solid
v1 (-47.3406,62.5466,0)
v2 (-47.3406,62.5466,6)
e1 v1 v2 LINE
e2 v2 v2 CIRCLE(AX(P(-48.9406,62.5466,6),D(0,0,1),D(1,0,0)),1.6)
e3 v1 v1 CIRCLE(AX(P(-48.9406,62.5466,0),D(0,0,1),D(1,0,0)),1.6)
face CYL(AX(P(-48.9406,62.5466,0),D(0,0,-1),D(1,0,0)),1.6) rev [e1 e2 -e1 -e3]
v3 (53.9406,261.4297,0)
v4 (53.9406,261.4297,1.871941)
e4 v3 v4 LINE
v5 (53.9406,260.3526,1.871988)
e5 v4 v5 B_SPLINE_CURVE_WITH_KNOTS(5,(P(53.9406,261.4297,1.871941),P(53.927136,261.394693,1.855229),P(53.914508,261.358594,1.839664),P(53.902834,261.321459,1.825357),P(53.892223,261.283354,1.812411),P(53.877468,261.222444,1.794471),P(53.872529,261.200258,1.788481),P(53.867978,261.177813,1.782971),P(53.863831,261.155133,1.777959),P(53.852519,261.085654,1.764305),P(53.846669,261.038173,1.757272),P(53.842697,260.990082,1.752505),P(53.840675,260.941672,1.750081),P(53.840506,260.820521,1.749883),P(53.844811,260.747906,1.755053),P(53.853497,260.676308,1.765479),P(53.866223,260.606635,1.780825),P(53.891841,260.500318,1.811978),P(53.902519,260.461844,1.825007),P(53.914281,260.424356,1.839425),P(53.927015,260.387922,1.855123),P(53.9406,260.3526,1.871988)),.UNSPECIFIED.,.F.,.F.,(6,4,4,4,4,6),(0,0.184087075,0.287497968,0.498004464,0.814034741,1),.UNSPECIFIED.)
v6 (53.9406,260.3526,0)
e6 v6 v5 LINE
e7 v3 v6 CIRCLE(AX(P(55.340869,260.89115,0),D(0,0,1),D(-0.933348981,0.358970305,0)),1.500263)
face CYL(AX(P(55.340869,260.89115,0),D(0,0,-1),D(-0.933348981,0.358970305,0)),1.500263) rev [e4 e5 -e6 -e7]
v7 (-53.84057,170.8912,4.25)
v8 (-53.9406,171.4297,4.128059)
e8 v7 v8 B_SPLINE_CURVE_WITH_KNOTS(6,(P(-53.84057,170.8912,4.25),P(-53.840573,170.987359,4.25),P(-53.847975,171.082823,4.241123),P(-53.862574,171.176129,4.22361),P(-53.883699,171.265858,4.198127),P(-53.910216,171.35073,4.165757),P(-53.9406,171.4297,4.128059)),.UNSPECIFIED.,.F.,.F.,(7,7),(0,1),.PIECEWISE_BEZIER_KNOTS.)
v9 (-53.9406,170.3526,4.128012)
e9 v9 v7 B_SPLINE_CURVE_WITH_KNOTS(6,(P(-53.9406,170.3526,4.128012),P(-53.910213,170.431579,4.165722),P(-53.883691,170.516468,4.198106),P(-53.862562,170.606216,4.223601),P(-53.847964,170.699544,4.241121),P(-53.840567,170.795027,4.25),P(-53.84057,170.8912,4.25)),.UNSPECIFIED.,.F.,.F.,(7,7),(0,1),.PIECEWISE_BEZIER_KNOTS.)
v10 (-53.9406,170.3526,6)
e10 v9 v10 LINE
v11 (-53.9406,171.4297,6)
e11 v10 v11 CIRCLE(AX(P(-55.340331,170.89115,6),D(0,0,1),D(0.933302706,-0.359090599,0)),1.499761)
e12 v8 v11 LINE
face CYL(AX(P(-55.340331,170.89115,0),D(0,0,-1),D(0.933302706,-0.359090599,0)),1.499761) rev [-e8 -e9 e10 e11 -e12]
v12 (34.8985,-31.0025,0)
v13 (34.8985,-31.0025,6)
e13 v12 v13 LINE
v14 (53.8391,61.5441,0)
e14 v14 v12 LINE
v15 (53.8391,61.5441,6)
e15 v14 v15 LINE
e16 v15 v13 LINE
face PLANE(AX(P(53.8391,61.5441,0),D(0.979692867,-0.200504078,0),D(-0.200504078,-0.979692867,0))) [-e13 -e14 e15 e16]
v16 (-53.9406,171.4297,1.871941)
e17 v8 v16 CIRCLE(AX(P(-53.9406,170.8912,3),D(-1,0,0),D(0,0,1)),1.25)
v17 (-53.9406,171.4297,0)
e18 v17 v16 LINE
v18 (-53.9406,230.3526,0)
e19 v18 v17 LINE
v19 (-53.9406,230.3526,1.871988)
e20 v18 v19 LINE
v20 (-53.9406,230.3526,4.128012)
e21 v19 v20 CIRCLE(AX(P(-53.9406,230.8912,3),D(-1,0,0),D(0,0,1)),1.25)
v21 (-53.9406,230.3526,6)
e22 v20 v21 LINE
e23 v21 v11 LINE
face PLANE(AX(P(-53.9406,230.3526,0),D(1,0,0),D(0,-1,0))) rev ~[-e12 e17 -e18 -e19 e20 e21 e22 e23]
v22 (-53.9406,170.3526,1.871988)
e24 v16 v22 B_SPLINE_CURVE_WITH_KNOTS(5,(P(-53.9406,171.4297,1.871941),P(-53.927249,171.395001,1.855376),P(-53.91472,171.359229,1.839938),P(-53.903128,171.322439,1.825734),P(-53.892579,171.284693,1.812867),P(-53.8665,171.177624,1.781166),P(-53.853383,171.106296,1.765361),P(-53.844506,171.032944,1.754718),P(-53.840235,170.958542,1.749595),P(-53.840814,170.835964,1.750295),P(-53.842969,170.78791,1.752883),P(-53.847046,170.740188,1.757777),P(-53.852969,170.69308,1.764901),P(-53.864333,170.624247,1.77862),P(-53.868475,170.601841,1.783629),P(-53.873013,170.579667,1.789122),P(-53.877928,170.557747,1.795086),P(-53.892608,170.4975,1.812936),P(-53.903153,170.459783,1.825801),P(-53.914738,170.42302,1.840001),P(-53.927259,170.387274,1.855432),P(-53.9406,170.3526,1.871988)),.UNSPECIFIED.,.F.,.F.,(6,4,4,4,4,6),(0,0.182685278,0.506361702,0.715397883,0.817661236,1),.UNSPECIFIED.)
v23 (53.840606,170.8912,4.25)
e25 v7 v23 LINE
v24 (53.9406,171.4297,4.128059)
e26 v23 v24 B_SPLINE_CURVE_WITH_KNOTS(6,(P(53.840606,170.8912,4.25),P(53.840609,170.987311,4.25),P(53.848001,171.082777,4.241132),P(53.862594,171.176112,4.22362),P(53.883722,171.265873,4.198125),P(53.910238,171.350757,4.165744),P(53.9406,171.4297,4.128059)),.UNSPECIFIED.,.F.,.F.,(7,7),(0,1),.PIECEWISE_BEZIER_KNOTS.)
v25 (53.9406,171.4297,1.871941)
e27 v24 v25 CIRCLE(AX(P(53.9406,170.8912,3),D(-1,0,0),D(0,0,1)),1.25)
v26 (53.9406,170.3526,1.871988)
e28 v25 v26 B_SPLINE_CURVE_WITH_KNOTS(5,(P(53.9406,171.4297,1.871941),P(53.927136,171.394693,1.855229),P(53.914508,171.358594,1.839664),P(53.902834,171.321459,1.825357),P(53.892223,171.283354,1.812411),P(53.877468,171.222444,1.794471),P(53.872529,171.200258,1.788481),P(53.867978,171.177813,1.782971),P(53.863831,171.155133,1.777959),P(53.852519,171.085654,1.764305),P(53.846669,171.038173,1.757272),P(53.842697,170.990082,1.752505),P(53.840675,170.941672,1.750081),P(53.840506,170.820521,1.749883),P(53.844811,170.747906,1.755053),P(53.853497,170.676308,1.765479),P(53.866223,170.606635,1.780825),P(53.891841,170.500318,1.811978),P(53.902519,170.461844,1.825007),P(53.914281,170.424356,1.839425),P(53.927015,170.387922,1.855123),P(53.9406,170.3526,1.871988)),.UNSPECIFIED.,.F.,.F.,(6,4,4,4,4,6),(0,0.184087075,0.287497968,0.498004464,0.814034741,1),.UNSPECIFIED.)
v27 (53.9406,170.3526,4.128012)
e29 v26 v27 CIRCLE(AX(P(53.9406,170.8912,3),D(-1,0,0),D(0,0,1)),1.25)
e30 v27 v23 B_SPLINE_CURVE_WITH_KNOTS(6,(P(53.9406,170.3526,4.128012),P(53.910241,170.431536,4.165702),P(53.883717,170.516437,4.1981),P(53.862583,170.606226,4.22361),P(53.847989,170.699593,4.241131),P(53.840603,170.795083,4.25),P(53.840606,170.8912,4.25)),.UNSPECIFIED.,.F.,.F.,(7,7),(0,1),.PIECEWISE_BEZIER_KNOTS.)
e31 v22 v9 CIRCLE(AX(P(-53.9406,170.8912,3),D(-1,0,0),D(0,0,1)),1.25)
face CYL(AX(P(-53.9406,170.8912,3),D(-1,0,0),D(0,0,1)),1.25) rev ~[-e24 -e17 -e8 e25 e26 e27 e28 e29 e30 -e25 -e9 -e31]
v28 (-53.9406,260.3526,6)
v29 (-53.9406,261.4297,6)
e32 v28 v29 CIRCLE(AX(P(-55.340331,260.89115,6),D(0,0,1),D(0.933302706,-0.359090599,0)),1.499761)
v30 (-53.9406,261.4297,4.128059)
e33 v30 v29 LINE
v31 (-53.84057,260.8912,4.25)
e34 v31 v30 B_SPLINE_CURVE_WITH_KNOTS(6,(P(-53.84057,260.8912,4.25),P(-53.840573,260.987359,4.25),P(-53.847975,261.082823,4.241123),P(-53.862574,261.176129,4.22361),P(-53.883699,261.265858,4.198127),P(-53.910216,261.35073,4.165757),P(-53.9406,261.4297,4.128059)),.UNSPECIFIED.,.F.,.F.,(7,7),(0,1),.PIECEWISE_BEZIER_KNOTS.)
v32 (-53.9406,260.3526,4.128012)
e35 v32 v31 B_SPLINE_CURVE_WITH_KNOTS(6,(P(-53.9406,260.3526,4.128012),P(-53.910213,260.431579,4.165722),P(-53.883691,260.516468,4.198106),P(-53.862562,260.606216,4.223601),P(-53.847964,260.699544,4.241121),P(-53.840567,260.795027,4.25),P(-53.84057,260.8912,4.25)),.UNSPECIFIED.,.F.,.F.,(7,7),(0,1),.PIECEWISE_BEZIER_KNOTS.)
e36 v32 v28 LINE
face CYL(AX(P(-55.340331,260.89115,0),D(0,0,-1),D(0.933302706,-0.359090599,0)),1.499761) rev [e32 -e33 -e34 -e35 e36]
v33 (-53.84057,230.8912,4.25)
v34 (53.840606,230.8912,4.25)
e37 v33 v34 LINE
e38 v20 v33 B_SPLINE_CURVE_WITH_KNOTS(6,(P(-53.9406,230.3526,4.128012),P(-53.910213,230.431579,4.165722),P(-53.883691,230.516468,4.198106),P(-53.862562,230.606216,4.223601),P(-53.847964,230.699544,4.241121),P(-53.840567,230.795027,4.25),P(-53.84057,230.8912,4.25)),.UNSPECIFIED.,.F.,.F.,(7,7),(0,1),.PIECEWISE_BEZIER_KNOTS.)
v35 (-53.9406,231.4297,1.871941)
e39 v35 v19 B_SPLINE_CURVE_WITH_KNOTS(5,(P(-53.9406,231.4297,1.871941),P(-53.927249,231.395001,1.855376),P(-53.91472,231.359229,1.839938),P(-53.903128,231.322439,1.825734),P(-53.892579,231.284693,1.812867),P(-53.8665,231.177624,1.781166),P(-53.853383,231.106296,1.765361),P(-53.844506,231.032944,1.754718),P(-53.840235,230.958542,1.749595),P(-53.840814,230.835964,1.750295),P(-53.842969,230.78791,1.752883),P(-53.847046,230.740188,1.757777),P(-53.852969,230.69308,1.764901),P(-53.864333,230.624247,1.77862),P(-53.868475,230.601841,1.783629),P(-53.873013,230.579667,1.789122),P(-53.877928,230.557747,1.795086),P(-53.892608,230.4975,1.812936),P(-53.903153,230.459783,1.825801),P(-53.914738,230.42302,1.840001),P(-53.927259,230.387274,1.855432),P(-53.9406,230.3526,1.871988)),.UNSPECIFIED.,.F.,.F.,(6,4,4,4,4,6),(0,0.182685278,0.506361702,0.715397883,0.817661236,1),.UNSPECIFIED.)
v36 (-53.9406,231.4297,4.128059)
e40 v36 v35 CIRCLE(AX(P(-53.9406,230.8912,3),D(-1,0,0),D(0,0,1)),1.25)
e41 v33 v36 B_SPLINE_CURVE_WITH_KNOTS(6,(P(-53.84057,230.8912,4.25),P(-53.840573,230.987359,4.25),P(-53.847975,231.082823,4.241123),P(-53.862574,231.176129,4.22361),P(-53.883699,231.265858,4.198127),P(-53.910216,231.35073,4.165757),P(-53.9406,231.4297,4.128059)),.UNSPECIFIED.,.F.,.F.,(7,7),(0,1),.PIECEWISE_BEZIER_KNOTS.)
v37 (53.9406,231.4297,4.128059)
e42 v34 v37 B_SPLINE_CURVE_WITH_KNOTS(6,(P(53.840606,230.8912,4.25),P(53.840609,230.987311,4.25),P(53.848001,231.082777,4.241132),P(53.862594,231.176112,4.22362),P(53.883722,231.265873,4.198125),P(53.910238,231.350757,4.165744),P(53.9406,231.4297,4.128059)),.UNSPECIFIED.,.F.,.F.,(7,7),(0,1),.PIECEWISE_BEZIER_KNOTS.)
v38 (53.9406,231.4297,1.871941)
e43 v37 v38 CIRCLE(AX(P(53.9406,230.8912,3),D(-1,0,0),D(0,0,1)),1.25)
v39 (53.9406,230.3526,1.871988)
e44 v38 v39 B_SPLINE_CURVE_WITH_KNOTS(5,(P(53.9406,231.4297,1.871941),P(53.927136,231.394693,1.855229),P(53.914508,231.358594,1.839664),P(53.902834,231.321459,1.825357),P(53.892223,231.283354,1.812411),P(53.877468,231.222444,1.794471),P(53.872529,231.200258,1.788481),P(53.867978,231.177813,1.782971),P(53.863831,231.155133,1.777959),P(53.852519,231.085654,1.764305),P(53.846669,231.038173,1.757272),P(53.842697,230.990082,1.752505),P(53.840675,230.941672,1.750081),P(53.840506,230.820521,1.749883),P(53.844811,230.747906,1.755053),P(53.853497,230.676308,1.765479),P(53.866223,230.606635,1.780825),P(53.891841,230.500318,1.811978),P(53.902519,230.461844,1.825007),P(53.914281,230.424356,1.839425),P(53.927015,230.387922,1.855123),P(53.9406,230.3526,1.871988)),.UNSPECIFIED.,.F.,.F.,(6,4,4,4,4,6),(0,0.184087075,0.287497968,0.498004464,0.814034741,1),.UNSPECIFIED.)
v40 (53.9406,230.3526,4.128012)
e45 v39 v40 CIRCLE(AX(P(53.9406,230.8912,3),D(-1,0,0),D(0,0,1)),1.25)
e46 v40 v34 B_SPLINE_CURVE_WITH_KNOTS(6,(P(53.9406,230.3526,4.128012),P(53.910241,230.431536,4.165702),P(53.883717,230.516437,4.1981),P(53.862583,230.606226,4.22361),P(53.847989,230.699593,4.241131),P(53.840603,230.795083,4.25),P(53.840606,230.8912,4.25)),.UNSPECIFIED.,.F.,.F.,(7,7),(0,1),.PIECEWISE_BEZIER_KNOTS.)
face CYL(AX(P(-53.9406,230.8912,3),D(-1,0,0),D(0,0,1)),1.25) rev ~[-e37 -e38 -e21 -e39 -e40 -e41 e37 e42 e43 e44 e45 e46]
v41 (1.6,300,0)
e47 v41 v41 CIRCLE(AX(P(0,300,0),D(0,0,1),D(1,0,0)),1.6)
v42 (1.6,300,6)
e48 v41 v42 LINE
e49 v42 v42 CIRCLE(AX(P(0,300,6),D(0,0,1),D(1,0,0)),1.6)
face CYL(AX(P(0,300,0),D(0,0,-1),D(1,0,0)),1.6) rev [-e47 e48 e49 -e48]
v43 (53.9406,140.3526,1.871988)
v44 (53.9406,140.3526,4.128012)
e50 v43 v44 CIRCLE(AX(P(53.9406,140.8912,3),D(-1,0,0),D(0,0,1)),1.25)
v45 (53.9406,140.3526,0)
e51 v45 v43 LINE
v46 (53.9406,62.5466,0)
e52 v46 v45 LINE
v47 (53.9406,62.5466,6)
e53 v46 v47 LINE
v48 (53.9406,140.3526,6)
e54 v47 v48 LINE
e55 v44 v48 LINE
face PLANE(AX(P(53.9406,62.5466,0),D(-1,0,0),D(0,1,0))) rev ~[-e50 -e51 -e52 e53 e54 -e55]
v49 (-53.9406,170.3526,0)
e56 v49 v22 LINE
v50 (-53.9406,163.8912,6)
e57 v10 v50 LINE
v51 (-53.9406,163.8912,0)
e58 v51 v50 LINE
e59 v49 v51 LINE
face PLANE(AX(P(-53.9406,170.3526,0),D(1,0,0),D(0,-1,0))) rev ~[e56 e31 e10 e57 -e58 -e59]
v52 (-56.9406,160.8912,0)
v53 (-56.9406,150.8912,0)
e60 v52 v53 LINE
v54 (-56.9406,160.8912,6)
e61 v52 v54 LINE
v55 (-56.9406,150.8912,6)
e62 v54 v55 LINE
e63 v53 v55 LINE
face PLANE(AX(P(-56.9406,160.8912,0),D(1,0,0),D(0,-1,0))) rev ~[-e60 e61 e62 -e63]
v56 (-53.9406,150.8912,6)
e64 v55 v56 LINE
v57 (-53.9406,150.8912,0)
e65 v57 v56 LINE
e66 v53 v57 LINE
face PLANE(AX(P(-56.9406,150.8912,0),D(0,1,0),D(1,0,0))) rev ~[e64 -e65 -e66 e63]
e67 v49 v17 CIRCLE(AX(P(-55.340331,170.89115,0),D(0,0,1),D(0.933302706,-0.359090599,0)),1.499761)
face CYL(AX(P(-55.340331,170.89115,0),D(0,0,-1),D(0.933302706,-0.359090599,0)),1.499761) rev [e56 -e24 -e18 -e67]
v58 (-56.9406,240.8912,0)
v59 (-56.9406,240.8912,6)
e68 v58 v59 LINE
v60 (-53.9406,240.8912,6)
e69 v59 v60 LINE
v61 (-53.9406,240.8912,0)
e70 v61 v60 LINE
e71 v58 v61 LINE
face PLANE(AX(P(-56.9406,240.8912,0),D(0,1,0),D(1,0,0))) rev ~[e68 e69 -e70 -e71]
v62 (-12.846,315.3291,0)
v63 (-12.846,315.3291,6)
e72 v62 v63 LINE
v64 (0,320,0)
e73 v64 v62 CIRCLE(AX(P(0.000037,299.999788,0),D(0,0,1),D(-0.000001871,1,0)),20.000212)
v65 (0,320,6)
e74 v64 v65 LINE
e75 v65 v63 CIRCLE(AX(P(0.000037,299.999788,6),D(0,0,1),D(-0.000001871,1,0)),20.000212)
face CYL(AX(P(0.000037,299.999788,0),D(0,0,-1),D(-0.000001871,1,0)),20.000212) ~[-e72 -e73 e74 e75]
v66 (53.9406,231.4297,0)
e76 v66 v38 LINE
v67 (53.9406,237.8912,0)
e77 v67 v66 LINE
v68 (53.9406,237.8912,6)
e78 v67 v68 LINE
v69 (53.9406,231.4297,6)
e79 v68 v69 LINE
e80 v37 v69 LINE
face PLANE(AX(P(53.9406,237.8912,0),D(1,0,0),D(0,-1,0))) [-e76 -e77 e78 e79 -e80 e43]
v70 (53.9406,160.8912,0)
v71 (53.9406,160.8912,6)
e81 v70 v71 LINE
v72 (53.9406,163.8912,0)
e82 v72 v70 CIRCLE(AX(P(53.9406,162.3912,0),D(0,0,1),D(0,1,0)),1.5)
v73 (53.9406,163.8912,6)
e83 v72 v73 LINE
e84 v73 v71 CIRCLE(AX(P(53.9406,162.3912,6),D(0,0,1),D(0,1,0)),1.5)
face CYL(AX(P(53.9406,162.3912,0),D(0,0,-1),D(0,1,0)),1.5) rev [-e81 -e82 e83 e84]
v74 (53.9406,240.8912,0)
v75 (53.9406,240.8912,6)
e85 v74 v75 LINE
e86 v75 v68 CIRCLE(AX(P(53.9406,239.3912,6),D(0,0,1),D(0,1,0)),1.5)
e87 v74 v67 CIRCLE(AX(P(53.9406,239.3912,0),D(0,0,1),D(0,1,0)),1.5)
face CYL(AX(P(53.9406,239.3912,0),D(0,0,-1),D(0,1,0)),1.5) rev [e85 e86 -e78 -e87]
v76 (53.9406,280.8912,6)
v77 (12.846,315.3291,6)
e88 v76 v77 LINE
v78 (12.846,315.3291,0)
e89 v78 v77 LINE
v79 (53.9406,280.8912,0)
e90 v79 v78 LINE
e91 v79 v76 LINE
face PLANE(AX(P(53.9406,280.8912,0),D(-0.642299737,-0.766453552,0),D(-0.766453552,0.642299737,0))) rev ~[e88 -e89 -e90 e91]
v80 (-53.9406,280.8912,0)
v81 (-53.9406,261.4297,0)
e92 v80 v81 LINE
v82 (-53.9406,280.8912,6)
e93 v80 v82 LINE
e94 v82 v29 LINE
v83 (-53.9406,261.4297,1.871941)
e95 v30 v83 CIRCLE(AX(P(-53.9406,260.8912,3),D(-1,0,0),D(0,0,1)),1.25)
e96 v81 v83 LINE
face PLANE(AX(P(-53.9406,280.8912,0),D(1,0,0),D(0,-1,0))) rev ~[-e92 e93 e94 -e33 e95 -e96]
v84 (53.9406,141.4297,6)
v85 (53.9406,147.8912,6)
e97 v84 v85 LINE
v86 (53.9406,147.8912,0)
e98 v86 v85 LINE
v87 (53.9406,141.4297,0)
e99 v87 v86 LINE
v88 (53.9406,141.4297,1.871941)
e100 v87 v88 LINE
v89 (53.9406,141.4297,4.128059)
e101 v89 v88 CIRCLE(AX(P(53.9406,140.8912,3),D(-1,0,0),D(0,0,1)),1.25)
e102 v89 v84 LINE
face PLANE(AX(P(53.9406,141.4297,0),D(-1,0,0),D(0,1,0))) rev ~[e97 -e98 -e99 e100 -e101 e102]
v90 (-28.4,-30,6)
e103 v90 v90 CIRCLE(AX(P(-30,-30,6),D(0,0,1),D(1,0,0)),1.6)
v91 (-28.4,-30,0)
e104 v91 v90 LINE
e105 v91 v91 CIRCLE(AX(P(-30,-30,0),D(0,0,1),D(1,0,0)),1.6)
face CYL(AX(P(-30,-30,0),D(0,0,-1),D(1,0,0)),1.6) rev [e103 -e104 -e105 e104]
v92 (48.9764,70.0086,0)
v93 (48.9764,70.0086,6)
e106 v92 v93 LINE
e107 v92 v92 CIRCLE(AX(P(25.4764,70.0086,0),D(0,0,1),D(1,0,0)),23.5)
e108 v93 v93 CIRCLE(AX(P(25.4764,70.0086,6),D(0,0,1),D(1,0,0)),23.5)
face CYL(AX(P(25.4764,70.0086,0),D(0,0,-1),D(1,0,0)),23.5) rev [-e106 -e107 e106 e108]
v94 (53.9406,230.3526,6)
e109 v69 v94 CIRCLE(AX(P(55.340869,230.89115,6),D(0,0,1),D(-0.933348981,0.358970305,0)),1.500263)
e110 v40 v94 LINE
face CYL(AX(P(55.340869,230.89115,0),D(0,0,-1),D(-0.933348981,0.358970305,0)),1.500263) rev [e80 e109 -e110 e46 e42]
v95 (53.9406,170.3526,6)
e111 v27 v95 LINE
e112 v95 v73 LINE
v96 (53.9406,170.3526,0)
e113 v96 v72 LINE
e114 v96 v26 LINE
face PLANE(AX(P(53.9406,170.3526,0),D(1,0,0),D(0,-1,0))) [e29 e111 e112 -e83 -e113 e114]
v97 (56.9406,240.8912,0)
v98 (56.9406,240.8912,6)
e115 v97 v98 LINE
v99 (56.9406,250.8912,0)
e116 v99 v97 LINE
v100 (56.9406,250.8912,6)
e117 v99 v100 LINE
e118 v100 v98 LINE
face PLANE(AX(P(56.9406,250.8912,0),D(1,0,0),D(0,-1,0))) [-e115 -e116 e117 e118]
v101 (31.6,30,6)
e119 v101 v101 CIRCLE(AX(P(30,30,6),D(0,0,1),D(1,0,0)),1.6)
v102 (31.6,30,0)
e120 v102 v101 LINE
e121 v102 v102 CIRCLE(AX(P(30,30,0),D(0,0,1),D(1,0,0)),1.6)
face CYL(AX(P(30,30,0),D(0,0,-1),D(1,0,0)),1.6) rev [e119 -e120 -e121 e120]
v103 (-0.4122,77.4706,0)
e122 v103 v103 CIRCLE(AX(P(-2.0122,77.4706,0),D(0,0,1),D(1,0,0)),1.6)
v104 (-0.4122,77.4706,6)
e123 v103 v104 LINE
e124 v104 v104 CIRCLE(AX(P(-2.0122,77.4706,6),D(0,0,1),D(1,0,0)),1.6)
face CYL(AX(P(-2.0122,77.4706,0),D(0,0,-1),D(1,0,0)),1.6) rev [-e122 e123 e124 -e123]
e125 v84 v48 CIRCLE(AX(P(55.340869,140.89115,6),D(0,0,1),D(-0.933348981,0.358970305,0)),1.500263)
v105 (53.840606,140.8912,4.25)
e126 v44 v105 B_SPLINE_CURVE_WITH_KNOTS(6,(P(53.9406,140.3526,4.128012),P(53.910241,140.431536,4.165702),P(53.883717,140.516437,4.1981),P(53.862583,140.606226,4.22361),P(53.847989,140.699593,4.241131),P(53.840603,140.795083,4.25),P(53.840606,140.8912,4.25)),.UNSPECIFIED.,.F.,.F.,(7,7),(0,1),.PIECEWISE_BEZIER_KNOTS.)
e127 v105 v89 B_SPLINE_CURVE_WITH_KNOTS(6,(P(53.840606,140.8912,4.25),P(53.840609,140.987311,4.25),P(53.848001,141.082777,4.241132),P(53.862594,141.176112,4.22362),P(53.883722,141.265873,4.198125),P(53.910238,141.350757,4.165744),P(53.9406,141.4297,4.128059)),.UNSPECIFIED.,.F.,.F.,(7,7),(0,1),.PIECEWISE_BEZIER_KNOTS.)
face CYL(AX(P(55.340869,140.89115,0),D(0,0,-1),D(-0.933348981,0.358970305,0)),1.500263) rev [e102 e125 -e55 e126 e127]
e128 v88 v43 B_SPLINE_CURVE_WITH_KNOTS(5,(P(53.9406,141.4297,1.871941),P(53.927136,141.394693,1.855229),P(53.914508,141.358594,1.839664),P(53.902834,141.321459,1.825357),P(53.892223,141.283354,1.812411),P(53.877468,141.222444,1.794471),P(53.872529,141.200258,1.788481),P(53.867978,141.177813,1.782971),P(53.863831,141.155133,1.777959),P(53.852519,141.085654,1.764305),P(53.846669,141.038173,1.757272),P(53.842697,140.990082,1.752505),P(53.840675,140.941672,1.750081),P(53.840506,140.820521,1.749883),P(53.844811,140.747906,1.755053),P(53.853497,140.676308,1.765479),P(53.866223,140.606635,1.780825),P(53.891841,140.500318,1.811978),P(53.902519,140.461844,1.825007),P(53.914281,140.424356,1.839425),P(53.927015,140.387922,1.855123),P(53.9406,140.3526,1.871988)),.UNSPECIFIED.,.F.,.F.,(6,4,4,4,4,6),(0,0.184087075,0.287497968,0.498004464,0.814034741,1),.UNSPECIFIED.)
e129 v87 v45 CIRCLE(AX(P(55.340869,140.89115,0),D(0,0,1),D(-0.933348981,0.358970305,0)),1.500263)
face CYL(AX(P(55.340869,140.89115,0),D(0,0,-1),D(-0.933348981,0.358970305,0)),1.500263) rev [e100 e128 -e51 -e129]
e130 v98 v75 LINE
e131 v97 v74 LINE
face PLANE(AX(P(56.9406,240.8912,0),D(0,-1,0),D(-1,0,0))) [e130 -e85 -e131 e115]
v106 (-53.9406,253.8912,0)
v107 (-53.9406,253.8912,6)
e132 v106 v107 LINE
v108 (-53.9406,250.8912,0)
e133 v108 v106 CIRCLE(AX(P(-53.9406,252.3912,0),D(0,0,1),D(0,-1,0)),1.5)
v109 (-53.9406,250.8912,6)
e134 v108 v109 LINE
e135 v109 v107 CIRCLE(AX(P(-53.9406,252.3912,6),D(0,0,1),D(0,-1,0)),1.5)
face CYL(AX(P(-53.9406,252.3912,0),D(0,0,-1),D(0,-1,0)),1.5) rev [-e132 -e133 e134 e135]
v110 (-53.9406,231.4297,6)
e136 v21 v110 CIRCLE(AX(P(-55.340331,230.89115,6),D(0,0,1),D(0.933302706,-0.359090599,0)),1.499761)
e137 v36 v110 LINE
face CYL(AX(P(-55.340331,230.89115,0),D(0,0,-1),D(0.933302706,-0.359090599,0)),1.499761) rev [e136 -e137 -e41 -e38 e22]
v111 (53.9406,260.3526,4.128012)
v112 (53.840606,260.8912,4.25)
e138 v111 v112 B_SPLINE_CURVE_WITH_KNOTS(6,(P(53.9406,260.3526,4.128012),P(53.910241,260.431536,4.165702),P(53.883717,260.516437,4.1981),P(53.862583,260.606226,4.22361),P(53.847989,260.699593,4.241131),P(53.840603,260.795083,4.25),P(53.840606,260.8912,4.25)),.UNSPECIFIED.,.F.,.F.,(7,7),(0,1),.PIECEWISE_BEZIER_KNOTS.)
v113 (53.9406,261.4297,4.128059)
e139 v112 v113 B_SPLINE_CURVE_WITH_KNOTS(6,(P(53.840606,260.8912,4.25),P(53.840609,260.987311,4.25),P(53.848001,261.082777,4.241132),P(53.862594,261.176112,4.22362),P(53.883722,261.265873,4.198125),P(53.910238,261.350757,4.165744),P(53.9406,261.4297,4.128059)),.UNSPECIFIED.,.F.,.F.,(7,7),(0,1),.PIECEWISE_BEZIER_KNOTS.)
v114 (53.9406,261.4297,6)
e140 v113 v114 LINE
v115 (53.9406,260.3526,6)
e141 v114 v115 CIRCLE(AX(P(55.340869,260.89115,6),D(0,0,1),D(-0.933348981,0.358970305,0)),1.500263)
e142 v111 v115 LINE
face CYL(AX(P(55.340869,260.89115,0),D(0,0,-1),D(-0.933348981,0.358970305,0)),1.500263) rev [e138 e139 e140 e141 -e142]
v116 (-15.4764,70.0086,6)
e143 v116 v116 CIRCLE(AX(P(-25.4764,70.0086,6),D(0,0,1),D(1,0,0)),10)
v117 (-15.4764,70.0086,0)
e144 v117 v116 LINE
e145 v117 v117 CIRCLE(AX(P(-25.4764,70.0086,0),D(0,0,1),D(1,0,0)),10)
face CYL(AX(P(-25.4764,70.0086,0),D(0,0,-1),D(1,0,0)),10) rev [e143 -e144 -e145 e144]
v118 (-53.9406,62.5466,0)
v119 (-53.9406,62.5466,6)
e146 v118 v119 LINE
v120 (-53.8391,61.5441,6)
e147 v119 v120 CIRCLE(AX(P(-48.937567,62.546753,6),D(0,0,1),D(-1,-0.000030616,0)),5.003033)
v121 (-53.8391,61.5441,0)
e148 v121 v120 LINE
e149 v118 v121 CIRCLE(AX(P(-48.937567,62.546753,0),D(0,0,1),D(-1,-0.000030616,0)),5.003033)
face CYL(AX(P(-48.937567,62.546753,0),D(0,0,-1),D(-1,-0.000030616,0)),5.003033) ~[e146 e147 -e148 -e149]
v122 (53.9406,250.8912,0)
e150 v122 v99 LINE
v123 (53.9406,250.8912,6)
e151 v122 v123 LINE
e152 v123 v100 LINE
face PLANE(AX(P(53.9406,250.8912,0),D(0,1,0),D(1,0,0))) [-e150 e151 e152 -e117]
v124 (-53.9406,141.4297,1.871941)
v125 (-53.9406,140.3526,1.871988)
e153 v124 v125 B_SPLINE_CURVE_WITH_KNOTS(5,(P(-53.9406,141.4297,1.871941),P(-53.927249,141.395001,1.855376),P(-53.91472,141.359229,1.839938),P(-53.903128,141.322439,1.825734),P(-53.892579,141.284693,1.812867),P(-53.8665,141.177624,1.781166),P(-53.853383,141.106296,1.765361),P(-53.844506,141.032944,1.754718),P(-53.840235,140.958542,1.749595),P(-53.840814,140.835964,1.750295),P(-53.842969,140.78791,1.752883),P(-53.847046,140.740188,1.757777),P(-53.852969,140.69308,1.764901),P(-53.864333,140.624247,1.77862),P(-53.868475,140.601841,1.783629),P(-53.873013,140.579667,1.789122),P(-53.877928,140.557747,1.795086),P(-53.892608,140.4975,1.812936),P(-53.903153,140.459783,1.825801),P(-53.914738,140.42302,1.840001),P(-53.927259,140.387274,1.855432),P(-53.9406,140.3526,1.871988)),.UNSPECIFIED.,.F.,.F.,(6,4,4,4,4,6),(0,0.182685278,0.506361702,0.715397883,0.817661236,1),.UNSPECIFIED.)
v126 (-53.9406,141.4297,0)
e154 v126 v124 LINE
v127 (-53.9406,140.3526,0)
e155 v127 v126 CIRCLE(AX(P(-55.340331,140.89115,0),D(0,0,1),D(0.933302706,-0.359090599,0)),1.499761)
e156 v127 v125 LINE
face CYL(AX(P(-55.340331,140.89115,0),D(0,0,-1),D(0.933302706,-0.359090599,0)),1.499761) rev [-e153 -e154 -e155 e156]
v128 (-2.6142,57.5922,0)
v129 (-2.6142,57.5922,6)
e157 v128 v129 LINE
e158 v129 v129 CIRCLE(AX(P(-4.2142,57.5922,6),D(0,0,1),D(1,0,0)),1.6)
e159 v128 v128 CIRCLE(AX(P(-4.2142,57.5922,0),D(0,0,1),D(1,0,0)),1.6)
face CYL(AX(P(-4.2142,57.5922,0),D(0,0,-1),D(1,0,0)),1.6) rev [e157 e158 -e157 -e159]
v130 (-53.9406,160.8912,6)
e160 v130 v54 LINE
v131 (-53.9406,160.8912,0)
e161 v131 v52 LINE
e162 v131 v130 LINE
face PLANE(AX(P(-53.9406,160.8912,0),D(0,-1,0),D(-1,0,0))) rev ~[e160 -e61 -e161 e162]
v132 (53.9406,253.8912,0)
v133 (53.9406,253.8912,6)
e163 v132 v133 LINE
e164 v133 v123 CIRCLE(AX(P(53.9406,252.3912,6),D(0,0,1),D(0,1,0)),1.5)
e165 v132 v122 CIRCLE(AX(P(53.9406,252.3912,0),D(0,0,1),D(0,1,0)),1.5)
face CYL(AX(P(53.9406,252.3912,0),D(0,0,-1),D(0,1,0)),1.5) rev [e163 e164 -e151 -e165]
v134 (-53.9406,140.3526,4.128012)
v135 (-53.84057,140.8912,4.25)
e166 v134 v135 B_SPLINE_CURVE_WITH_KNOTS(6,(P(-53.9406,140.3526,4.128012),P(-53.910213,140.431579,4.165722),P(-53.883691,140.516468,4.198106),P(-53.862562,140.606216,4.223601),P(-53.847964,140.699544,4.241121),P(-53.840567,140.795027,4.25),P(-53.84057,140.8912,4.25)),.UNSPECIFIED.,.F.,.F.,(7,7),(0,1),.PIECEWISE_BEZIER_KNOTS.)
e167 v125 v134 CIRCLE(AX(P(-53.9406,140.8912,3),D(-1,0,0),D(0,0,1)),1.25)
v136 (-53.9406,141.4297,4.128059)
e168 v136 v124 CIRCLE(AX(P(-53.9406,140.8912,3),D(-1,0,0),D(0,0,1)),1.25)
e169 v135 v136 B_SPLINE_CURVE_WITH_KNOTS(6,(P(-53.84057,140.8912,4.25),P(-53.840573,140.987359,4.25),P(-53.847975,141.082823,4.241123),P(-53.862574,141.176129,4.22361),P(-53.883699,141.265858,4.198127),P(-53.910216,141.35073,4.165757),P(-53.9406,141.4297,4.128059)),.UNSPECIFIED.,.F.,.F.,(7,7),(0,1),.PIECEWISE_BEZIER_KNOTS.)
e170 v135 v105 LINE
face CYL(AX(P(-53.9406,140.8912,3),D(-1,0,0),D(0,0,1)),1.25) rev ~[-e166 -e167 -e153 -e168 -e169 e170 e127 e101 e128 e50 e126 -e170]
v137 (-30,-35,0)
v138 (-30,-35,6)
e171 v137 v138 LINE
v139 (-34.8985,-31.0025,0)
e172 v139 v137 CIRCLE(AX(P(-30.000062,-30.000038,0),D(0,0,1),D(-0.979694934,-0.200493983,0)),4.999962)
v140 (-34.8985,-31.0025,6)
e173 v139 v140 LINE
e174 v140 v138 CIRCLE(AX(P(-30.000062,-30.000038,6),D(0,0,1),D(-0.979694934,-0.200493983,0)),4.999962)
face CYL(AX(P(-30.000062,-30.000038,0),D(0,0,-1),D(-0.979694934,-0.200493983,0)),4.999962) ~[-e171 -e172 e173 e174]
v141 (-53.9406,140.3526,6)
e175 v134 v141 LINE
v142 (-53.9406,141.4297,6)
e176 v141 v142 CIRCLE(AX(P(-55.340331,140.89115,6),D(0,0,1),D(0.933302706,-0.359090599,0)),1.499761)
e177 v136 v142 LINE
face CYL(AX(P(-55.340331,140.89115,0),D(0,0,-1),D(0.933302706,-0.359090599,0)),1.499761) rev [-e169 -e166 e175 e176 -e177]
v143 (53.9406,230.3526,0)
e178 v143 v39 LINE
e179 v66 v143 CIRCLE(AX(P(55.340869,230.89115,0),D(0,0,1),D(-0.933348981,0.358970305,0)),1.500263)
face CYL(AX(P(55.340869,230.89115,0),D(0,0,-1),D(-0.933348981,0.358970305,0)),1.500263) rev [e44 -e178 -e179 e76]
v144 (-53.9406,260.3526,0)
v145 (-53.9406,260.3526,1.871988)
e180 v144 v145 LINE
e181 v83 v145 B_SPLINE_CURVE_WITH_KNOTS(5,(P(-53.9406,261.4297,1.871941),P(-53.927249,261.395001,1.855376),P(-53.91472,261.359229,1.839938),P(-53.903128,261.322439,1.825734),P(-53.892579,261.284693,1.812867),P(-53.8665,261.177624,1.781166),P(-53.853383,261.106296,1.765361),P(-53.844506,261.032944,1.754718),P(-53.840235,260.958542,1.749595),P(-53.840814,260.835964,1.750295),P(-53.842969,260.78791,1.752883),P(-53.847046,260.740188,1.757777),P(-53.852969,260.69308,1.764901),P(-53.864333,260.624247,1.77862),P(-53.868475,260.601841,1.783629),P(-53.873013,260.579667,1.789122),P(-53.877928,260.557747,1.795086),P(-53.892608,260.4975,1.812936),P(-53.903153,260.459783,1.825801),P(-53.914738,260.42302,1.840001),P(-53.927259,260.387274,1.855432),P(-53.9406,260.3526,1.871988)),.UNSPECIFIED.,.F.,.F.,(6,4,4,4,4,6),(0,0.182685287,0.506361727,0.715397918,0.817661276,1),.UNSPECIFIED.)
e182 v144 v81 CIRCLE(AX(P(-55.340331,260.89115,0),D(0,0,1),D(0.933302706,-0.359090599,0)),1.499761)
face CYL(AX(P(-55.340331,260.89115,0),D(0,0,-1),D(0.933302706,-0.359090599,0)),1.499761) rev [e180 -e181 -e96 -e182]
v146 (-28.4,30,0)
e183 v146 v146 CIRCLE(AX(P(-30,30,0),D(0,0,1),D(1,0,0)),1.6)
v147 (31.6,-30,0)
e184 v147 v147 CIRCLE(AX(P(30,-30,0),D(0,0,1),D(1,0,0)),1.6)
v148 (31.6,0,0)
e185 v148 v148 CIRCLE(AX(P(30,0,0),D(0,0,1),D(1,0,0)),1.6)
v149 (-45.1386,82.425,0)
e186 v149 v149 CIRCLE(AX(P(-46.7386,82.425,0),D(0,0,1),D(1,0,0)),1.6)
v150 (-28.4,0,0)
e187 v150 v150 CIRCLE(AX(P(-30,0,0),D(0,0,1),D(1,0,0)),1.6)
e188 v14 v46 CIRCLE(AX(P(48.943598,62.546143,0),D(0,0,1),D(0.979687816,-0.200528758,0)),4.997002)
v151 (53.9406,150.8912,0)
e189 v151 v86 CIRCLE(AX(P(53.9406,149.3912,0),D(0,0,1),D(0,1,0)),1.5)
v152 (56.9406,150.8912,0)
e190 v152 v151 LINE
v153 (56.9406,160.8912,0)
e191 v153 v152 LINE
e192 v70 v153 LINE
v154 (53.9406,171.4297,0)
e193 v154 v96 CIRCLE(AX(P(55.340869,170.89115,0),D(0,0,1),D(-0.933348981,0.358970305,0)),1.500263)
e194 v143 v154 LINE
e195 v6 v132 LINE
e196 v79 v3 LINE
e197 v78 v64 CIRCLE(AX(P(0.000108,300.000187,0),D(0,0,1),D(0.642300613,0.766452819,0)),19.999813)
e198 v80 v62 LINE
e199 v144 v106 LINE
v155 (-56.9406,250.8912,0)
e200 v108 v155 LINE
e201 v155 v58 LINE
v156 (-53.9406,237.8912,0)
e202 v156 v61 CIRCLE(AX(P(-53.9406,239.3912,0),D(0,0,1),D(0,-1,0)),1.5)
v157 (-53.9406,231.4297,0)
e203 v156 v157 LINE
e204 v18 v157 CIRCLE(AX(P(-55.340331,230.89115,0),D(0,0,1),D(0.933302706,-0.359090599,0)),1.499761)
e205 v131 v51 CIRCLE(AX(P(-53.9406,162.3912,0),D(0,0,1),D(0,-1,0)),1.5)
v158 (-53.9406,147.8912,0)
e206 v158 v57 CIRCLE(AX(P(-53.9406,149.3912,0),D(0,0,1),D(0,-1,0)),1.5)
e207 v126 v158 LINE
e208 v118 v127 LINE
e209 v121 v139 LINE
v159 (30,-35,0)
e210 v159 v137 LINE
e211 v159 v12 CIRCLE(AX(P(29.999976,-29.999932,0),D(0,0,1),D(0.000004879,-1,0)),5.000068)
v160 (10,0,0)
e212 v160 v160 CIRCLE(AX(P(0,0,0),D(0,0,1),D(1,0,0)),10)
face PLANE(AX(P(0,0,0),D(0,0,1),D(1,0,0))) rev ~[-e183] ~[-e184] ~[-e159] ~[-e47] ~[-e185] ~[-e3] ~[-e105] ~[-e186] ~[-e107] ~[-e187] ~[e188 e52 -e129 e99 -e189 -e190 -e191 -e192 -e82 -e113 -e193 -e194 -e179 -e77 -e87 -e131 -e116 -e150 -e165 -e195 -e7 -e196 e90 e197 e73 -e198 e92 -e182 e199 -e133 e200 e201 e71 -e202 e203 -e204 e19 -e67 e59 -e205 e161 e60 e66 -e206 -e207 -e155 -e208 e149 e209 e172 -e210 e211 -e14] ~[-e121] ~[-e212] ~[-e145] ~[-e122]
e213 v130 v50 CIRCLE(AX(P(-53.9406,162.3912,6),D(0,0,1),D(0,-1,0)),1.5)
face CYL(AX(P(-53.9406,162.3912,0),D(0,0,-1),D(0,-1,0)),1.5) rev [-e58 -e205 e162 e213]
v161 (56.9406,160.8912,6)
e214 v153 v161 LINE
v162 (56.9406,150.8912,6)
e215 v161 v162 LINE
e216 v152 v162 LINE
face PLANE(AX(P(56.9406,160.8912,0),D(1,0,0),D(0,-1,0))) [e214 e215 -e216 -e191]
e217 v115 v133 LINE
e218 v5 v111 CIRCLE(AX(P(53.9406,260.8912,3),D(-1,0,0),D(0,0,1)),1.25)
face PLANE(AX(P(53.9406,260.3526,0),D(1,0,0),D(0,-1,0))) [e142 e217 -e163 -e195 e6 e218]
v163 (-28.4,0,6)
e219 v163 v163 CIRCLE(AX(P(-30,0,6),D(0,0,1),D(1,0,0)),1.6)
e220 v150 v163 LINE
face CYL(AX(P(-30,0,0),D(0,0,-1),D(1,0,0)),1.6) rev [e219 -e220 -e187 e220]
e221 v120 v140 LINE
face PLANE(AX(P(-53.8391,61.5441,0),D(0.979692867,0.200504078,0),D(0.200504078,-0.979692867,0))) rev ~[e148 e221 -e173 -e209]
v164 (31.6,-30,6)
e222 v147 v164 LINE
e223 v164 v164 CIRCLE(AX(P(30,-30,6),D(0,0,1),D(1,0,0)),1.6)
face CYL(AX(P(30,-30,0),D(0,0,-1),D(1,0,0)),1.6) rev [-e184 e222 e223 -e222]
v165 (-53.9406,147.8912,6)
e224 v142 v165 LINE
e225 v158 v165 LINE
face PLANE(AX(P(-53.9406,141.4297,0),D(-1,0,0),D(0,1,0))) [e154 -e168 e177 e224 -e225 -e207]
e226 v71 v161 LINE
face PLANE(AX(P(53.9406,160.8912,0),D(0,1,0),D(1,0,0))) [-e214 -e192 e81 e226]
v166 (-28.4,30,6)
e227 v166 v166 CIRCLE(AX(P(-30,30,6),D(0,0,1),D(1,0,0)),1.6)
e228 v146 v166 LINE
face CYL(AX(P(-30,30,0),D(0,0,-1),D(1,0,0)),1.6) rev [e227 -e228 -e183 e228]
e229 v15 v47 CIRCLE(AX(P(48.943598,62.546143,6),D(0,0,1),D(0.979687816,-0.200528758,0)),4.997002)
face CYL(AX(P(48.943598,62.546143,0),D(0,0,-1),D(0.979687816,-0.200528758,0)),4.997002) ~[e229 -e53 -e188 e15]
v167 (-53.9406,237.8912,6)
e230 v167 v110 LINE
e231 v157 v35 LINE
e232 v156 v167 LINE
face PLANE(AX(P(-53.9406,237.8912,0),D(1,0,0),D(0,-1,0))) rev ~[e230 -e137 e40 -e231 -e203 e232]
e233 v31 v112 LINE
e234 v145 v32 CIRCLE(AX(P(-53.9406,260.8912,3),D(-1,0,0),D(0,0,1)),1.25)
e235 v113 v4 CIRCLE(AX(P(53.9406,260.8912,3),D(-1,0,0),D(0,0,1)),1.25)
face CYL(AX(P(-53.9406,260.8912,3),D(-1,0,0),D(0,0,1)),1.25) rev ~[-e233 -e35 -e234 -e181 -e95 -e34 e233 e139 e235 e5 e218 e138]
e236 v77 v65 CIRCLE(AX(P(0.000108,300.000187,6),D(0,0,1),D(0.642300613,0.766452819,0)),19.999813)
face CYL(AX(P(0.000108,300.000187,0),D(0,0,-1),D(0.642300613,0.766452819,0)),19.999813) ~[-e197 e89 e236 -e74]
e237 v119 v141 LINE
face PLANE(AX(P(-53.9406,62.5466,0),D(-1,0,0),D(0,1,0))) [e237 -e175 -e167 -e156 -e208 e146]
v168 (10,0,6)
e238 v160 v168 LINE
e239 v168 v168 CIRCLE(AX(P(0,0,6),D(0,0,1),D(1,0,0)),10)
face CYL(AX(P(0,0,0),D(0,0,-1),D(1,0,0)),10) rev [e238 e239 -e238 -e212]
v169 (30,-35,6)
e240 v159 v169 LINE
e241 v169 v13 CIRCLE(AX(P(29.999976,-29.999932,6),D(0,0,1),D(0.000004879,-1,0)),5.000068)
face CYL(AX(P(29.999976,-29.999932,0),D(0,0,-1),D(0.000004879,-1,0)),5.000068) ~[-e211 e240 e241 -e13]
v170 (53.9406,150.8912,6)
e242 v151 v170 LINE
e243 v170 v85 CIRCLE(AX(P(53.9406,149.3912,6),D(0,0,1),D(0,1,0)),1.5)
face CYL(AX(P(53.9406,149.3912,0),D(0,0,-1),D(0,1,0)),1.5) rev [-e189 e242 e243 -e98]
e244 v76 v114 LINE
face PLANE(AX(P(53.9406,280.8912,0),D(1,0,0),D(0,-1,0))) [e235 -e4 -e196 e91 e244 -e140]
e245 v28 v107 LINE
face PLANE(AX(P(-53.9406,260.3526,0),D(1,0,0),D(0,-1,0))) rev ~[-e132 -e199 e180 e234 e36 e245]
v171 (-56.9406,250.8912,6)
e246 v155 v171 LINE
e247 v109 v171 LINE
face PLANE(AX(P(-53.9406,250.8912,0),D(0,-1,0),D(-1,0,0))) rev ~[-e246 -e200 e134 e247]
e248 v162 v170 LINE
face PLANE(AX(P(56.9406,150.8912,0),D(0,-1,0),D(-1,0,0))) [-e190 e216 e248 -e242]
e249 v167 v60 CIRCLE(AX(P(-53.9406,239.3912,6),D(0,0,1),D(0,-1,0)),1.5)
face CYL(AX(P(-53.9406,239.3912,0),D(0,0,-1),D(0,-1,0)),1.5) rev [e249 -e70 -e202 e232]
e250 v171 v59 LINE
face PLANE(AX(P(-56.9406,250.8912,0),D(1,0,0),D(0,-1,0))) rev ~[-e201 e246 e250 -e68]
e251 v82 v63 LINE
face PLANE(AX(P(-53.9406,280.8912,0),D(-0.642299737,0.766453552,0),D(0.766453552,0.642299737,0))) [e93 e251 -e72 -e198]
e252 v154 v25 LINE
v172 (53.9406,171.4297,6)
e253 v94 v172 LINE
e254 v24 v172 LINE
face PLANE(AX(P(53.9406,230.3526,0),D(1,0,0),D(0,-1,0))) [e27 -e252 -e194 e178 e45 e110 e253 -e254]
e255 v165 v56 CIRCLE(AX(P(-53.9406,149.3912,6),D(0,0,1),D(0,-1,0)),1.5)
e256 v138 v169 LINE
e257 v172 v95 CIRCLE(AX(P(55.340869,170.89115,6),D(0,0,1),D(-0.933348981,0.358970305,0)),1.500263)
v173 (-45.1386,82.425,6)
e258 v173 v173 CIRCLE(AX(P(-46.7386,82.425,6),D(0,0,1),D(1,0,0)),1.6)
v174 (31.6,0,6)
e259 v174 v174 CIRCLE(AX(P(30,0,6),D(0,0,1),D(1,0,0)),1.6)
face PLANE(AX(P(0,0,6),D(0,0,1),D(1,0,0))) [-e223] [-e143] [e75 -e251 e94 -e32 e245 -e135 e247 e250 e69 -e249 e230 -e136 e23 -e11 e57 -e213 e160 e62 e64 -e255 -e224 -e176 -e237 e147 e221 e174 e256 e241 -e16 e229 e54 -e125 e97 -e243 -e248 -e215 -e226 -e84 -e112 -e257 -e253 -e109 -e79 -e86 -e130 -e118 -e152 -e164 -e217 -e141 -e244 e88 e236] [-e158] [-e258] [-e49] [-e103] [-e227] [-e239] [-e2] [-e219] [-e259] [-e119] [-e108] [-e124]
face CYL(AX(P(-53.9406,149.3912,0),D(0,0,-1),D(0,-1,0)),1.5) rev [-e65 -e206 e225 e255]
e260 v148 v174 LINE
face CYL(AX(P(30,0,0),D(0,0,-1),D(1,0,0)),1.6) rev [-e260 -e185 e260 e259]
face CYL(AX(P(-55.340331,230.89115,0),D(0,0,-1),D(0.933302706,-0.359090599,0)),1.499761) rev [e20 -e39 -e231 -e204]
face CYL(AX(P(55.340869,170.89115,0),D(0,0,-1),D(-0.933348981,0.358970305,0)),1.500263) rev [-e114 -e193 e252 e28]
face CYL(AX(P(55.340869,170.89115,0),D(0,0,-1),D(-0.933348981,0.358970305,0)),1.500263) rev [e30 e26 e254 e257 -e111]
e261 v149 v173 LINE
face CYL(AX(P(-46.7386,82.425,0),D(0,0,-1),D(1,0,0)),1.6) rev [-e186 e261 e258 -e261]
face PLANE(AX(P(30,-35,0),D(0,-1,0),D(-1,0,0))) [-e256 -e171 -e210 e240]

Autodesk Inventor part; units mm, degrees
ref_plane "YZ Plane" through (0, 0, 0) normal (1, 0, 0) x (0, 1, 0)
ref_plane "XZ Plane" through (0, 0, 0) normal (0, 1, 0) x (-1, 0, 0)
ref_plane "XY Plane" through (0, 0, 0) normal (0, 0, 1) x (1, 0, 0)
sketch "スケッチ1" plane through (0, 0, 0) normal (0, 0, 1) x (1, 0, 0)
  circle A0 centre (0, 0) radius 10
  line L0 (30, 30) -> (-30, 30) construction
  line L1 (-30, 30) -> (-30, -30) construction
  line L2 (-30, -30) -> (30, -30) construction
  line L3 (30, -30) -> (30, 30) construction
  line L4 (30, 30) -> (-30, -30) construction
  line L5 (-30, 30) -> (30, -30) construction
  circle A1 centre (-30, 30) radius 1.6
  circle A2 centre (-30, -30) radius 1.6
  circle A3 centre (30, -30) radius 1.6
  circle A4 centre (30, 30) radius 1.6
  circle A5 centre (30, 0) radius 1.6
  circle A6 centre (-30, 0) radius 1.6
  circle A7 centre (0, 0) radius 52 construction
  circle A8 centre (-25.4764, 70.0086) radius 10
  line L6 (-2.0122, 77.4706) -> (-46.7386, 82.425) construction
  line L7 (-46.7386, 82.425) -> (-48.9406, 62.5466) construction
  line L8 (-48.9406, 62.5466) -> (-4.2142, 57.5922) construction
  line L9 (-4.2142, 57.5922) -> (-2.0122, 77.4706) construction
  line L10 (-2.0122, 77.4706) -> (-48.9406, 62.5466) construction
  line L11 (-46.7386, 82.425) -> (-4.2142, 57.5922) construction
  circle A9 centre (-46.7386, 82.425) radius 1.6
  circle A10 centre (-48.9406, 62.5466) radius 1.6
  circle A11 centre (-2.0122, 77.4706) radius 1.6
  circle A12 centre (-4.2142, 57.5922) radius 1.6
  circle A13 centre (0, 300) radius 1.6
  line L12 (0, 300) -> (-25.4764, 70.0086) construction
  circle A14 centre (0, 300) radius 47.7465 construction
  circle A15 centre (-25.4764, 70.0086) radius 22.5 construction
  circle A16 centre (25.4764, 70.0086) radius 23.5
  line L13 (0, 300) -> (0, 0) construction
  circle A17 centre (-25.4764, 70.0086) radius 11.9375 construction
  line L14 (-47.698, 297.8496) -> (-37.4018, 69.4709) construction
  line L15 (46.0711, 287.4627) -> (-13.9578, 66.874) construction
  arc A18 (0, 320) -> (-12.846, 315.3291) centre (0, 300) ccw
  line L16 (-53.3825, 268.5125) -> (-46.3637, 112.8299) construction
  arc A19 (-53.9406, 62.5466) -> (-53.8391, 61.5441) centre (-48.9406, 62.5466) ccw
  line L17 (-53.9406, 280.8912) -> (-12.846, 315.3291)
  arc A20 (-34.8985, -31.0025) -> (-30, -35) centre (-30, -30) ccw
  line L18 (-53.8391, 61.5441) -> (-34.8985, -31.0025)
  line L19 (-30, -35) -> (0, -35)
  line L20 (-53.9406, 280.8912) -> (-53.9406, 261.4297)
  line L21 (-53.9406, 237.8912) -> (-53.9406, 231.4297)
  line L22 (-53.9406, 62.5466) -> (-53.9406, 140.3526)
  line L23 (-53.9406, 250.8912) -> (-56.9406, 250.8912)
  line L24 (-56.9406, 250.8912) -> (-56.9406, 240.8912)
  line L25 (-56.9406, 240.8912) -> (-53.9406, 240.8912)
  arc A21 (-53.9406, 250.8912) -> (-53.9406, 253.8912) centre (-53.9406, 252.3912) ccw
  arc A22 (-53.9406, 237.8912) -> (-53.9406, 240.8912) centre (-53.9406, 239.3912) ccw
  line L26 (-53.9406, 160.8912) -> (-56.9406, 160.8912)
  line L27 (-56.9406, 160.8912) -> (-56.9406, 150.8912)
  line L28 (-56.9406, 150.8912) -> (-53.9406, 150.8912)
  arc A23 (-53.9406, 160.8912) -> (-53.9406, 163.8912) centre (-53.9406, 162.3912) ccw
  arc A24 (-53.9406, 147.8912) -> (-53.9406, 150.8912) centre (-53.9406, 149.3912) ccw
  arc A25 (-53.9406, 260.3526) -> (-53.9406, 261.4297) centre (-55.3406, 260.8912) ccw
  arc A26 (-53.9406, 230.3526) -> (-53.9406, 231.4297) centre (-55.3406, 230.8912) ccw
  arc A27 (-53.9406, 170.3526) -> (-53.9406, 171.4297) centre (-55.3406, 170.8912) ccw
  arc A28 (-53.9406, 140.3526) -> (-53.9406, 141.4297) centre (-55.3406, 140.8912) ccw
  arc A29 (-53.9406, 171.4297) -> (-53.9406, 170.3526) centre (-55.3406, 170.8912) ccw construction
  line L29 (-53.9406, 170.3526) -> (-53.9406, 163.8912)
  line L30 (-53.9406, 171.4297) -> (-53.9406, 170.3526) construction
  arc A30 (-53.9406, 141.4297) -> (-53.9406, 140.3526) centre (-55.3406, 140.8912) ccw construction
  line L31 (-53.9406, 140.3526) -> (-53.9406, 141.4297) construction
  line L32 (-53.9406, 141.4297) -> (-53.9406, 147.8912)
  arc A31 (-53.9406, 261.4297) -> (-53.9406, 260.3526) centre (-55.3406, 260.8912) ccw construction
  line L33 (-53.9406, 261.4297) -> (-53.9406, 260.3526) construction
  line L34 (-53.9406, 260.3526) -> (-53.9406, 253.8912)
  arc A32 (-53.9406, 231.4297) -> (-53.9406, 230.3526) centre (-55.3406, 230.8912) ccw construction
  line L35 (-53.9406, 230.3526) -> (-53.9406, 171.4297)
  line L36 (-53.9406, 231.4297) -> (-53.9406, 230.3526) construction
  arc A33 (12.846, 315.3291) -> (0, 320) centre (0, 300) ccw
  arc A34 (53.8391, 61.5441) -> (53.9406, 62.5466) centre (48.9406, 62.5466) ccw
  line L37 (53.9406, 280.8912) -> (12.846, 315.3291)
  arc A35 (30, -35) -> (34.8985, -31.0025) centre (30, -30) ccw
  line L38 (53.8391, 61.5441) -> (34.8985, -31.0025)
  line L39 (30, -35) -> (0, -35)
  line L40 (53.9406, 280.8912) -> (53.9406, 261.4297)
  line L41 (53.9406, 237.8912) -> (53.9406, 231.4297)
  line L42 (53.9406, 62.5466) -> (53.9406, 140.3526)
  line L43 (53.9406, 250.8912) -> (56.9406, 250.8912)
  line L44 (56.9406, 250.8912) -> (56.9406, 240.8912)
  line L45 (56.9406, 240.8912) -> (53.9406, 240.8912)
  arc A36 (53.9406, 253.8912) -> (53.9406, 250.8912) centre (53.9406, 252.3912) ccw
  arc A37 (53.9406, 240.8912) -> (53.9406, 237.8912) centre (53.9406, 239.3912) ccw
  arc A38 (53.9406, 150.8912) -> (53.9406, 147.8912) centre (53.9406, 149.3912) ccw
  arc A39 (53.9406, 163.8912) -> (53.9406, 160.8912) centre (53.9406, 162.3912) ccw
  line L46 (53.9406, 160.8912) -> (56.9406, 160.8912)
  line L47 (56.9406, 160.8912) -> (56.9406, 150.8912)
  line L48 (56.9406, 150.8912) -> (53.9406, 150.8912)
  arc A40 (53.9406, 261.4297) -> (53.9406, 260.3526) centre (55.3406, 260.8912) ccw
  arc A41 (53.9406, 231.4297) -> (53.9406, 230.3526) centre (55.3406, 230.8912) ccw
  arc A42 (53.9406, 171.4297) -> (53.9406, 170.3526) centre (55.3406, 170.8912) ccw
  arc A43 (53.9406, 141.4297) -> (53.9406, 140.3526) centre (55.3406, 140.8912) ccw
  arc A44 (53.9406, 170.3526) -> (53.9406, 171.4297) centre (55.3406, 170.8912) ccw construction
  line L49 (53.9406, 170.3526) -> (53.9406, 163.8912)
  line L50 (53.9406, 171.4297) -> (53.9406, 170.3526) construction
  arc A45 (53.9406, 140.3526) -> (53.9406, 141.4297) centre (55.3406, 140.8912) ccw construction
  line L51 (53.9406, 140.3526) -> (53.9406, 141.4297) construction
  line L52 (53.9406, 141.4297) -> (53.9406, 147.8912)
  arc A46 (53.9406, 260.3526) -> (53.9406, 261.4297) centre (55.3406, 260.8912) ccw construction
  line L53 (53.9406, 261.4297) -> (53.9406, 260.3526) construction
  line L54 (53.9406, 260.3526) -> (53.9406, 253.8912)
  arc A47 (53.9406, 230.3526) -> (53.9406, 231.4297) centre (55.3406, 230.8912) ccw construction
  line L55 (53.9406, 230.3526) -> (53.9406, 171.4297)
  line L56 (53.9406, 231.4297) -> (53.9406, 230.3526) construction
  circle A48 centre (-2.0122, 77.4706) radius 4 construction
  line L57 (-25.4764, 70.0086) -> (0, 70.0086) construction
  line L58 (0, 70.0086) -> (25.4764, 70.0086) construction
  dimension "d0" = 20
  dimension "d1" = 60
  dimension "d2" = 60
  dimension "d3" = 3.2
  dimension "d4" = 3.2
  dimension "d5" = 3.2
  dimension "d6" = 3.2
  dimension "d7" = 3.2
  dimension "d8" = 3.2
  dimension "d9" = 104
  dimension "d10" = 20
  dimension "d11" = 45
  dimension "d13" = 20
  dimension "d14" = 3.2
  dimension "d15" = 3.2
  dimension "d16" = 3.2
  dimension "d17" = 3.2
  dimension "d18" = 3.2
  dimension "d19" = 300
  dimension "d20" = 95.493
  dimension "d21" = 45
  dimension "d22" = 47
  dimension "d24" = 23.875
  dimension "d25" = 20
  dimension "d26" = 7
  dimension "d27" = 5
  dimension "d28" = 5
  dimension "d31" = 3
  dimension "d32" = 1.5
  dimension "d33" = 1.5
  dimension "d34" = 10
  dimension "d35" = 3
  dimension "d36" = 1.5
  dimension "d37" = 1.5
  dimension "d38" = 10
  dimension "d39" = 80
  dimension "d40" = 30
  dimension "d41" = 3
  dimension "d42" = 3
  dimension "d43" = 3
  dimension "d44" = 3
  dimension "d45" = 1.4
  dimension "d46" = 1.4
  dimension "d47" = 10
  dimension "d48" = 10
  dimension "d49" = 1.4
  dimension "d50" = 10
  dimension "d51" = 1.4
  dimension "d52" = 10
  dimension "d55" = 8
extrude "押し出し2" add sketch "スケッチ1" along normal blind 6
sketch "スケッチ2" plane through (-53.9406, 253.8912, 0) normal (-1, 0, 0) x (0, 0, 1)
  circle A0 centre (3, -83) radius 1.25
  circle A1 centre (3, -113) radius 1.25
  line L0 (6, -83.5385) -> (6, -90) projected
  line L1 (6, -112.4615) -> (6, -113.5385) projected
  line L2 (0, -103) -> (6, -103) projected
  line L3 (0, -93) -> (6, -93) projected
  circle A2 centre (3, 7) radius 1.25
  circle A3 centre (3, -23) radius 1.25
  line L4 (6, 6.4615) -> (6, 0) projected
  line L5 (6, -16) -> (6, -22.4615) projected
  line L6 (0, -3) -> (6, -3) projected
  line L7 (0, -13) -> (6, -13) projected
  point P0 (0, -253.8912)
  dimension "d56" = 2.5
  dimension "d57" = 2.5
  dimension "d58" = 3
  dimension "d59" = 3
  dimension "d60" = 10
  dimension "d61" = 10
  dimension "d62" = 2.5
  dimension "d63" = 2.5
  dimension "d64" = 3
  dimension "d65" = 3
  dimension "d66" = 10
  dimension "d67" = 10
extrude "押し出し3" cut sketch "スケッチ2" against normal through all
properties part number "関節3_側板3" material "アルミニウム 6061"
